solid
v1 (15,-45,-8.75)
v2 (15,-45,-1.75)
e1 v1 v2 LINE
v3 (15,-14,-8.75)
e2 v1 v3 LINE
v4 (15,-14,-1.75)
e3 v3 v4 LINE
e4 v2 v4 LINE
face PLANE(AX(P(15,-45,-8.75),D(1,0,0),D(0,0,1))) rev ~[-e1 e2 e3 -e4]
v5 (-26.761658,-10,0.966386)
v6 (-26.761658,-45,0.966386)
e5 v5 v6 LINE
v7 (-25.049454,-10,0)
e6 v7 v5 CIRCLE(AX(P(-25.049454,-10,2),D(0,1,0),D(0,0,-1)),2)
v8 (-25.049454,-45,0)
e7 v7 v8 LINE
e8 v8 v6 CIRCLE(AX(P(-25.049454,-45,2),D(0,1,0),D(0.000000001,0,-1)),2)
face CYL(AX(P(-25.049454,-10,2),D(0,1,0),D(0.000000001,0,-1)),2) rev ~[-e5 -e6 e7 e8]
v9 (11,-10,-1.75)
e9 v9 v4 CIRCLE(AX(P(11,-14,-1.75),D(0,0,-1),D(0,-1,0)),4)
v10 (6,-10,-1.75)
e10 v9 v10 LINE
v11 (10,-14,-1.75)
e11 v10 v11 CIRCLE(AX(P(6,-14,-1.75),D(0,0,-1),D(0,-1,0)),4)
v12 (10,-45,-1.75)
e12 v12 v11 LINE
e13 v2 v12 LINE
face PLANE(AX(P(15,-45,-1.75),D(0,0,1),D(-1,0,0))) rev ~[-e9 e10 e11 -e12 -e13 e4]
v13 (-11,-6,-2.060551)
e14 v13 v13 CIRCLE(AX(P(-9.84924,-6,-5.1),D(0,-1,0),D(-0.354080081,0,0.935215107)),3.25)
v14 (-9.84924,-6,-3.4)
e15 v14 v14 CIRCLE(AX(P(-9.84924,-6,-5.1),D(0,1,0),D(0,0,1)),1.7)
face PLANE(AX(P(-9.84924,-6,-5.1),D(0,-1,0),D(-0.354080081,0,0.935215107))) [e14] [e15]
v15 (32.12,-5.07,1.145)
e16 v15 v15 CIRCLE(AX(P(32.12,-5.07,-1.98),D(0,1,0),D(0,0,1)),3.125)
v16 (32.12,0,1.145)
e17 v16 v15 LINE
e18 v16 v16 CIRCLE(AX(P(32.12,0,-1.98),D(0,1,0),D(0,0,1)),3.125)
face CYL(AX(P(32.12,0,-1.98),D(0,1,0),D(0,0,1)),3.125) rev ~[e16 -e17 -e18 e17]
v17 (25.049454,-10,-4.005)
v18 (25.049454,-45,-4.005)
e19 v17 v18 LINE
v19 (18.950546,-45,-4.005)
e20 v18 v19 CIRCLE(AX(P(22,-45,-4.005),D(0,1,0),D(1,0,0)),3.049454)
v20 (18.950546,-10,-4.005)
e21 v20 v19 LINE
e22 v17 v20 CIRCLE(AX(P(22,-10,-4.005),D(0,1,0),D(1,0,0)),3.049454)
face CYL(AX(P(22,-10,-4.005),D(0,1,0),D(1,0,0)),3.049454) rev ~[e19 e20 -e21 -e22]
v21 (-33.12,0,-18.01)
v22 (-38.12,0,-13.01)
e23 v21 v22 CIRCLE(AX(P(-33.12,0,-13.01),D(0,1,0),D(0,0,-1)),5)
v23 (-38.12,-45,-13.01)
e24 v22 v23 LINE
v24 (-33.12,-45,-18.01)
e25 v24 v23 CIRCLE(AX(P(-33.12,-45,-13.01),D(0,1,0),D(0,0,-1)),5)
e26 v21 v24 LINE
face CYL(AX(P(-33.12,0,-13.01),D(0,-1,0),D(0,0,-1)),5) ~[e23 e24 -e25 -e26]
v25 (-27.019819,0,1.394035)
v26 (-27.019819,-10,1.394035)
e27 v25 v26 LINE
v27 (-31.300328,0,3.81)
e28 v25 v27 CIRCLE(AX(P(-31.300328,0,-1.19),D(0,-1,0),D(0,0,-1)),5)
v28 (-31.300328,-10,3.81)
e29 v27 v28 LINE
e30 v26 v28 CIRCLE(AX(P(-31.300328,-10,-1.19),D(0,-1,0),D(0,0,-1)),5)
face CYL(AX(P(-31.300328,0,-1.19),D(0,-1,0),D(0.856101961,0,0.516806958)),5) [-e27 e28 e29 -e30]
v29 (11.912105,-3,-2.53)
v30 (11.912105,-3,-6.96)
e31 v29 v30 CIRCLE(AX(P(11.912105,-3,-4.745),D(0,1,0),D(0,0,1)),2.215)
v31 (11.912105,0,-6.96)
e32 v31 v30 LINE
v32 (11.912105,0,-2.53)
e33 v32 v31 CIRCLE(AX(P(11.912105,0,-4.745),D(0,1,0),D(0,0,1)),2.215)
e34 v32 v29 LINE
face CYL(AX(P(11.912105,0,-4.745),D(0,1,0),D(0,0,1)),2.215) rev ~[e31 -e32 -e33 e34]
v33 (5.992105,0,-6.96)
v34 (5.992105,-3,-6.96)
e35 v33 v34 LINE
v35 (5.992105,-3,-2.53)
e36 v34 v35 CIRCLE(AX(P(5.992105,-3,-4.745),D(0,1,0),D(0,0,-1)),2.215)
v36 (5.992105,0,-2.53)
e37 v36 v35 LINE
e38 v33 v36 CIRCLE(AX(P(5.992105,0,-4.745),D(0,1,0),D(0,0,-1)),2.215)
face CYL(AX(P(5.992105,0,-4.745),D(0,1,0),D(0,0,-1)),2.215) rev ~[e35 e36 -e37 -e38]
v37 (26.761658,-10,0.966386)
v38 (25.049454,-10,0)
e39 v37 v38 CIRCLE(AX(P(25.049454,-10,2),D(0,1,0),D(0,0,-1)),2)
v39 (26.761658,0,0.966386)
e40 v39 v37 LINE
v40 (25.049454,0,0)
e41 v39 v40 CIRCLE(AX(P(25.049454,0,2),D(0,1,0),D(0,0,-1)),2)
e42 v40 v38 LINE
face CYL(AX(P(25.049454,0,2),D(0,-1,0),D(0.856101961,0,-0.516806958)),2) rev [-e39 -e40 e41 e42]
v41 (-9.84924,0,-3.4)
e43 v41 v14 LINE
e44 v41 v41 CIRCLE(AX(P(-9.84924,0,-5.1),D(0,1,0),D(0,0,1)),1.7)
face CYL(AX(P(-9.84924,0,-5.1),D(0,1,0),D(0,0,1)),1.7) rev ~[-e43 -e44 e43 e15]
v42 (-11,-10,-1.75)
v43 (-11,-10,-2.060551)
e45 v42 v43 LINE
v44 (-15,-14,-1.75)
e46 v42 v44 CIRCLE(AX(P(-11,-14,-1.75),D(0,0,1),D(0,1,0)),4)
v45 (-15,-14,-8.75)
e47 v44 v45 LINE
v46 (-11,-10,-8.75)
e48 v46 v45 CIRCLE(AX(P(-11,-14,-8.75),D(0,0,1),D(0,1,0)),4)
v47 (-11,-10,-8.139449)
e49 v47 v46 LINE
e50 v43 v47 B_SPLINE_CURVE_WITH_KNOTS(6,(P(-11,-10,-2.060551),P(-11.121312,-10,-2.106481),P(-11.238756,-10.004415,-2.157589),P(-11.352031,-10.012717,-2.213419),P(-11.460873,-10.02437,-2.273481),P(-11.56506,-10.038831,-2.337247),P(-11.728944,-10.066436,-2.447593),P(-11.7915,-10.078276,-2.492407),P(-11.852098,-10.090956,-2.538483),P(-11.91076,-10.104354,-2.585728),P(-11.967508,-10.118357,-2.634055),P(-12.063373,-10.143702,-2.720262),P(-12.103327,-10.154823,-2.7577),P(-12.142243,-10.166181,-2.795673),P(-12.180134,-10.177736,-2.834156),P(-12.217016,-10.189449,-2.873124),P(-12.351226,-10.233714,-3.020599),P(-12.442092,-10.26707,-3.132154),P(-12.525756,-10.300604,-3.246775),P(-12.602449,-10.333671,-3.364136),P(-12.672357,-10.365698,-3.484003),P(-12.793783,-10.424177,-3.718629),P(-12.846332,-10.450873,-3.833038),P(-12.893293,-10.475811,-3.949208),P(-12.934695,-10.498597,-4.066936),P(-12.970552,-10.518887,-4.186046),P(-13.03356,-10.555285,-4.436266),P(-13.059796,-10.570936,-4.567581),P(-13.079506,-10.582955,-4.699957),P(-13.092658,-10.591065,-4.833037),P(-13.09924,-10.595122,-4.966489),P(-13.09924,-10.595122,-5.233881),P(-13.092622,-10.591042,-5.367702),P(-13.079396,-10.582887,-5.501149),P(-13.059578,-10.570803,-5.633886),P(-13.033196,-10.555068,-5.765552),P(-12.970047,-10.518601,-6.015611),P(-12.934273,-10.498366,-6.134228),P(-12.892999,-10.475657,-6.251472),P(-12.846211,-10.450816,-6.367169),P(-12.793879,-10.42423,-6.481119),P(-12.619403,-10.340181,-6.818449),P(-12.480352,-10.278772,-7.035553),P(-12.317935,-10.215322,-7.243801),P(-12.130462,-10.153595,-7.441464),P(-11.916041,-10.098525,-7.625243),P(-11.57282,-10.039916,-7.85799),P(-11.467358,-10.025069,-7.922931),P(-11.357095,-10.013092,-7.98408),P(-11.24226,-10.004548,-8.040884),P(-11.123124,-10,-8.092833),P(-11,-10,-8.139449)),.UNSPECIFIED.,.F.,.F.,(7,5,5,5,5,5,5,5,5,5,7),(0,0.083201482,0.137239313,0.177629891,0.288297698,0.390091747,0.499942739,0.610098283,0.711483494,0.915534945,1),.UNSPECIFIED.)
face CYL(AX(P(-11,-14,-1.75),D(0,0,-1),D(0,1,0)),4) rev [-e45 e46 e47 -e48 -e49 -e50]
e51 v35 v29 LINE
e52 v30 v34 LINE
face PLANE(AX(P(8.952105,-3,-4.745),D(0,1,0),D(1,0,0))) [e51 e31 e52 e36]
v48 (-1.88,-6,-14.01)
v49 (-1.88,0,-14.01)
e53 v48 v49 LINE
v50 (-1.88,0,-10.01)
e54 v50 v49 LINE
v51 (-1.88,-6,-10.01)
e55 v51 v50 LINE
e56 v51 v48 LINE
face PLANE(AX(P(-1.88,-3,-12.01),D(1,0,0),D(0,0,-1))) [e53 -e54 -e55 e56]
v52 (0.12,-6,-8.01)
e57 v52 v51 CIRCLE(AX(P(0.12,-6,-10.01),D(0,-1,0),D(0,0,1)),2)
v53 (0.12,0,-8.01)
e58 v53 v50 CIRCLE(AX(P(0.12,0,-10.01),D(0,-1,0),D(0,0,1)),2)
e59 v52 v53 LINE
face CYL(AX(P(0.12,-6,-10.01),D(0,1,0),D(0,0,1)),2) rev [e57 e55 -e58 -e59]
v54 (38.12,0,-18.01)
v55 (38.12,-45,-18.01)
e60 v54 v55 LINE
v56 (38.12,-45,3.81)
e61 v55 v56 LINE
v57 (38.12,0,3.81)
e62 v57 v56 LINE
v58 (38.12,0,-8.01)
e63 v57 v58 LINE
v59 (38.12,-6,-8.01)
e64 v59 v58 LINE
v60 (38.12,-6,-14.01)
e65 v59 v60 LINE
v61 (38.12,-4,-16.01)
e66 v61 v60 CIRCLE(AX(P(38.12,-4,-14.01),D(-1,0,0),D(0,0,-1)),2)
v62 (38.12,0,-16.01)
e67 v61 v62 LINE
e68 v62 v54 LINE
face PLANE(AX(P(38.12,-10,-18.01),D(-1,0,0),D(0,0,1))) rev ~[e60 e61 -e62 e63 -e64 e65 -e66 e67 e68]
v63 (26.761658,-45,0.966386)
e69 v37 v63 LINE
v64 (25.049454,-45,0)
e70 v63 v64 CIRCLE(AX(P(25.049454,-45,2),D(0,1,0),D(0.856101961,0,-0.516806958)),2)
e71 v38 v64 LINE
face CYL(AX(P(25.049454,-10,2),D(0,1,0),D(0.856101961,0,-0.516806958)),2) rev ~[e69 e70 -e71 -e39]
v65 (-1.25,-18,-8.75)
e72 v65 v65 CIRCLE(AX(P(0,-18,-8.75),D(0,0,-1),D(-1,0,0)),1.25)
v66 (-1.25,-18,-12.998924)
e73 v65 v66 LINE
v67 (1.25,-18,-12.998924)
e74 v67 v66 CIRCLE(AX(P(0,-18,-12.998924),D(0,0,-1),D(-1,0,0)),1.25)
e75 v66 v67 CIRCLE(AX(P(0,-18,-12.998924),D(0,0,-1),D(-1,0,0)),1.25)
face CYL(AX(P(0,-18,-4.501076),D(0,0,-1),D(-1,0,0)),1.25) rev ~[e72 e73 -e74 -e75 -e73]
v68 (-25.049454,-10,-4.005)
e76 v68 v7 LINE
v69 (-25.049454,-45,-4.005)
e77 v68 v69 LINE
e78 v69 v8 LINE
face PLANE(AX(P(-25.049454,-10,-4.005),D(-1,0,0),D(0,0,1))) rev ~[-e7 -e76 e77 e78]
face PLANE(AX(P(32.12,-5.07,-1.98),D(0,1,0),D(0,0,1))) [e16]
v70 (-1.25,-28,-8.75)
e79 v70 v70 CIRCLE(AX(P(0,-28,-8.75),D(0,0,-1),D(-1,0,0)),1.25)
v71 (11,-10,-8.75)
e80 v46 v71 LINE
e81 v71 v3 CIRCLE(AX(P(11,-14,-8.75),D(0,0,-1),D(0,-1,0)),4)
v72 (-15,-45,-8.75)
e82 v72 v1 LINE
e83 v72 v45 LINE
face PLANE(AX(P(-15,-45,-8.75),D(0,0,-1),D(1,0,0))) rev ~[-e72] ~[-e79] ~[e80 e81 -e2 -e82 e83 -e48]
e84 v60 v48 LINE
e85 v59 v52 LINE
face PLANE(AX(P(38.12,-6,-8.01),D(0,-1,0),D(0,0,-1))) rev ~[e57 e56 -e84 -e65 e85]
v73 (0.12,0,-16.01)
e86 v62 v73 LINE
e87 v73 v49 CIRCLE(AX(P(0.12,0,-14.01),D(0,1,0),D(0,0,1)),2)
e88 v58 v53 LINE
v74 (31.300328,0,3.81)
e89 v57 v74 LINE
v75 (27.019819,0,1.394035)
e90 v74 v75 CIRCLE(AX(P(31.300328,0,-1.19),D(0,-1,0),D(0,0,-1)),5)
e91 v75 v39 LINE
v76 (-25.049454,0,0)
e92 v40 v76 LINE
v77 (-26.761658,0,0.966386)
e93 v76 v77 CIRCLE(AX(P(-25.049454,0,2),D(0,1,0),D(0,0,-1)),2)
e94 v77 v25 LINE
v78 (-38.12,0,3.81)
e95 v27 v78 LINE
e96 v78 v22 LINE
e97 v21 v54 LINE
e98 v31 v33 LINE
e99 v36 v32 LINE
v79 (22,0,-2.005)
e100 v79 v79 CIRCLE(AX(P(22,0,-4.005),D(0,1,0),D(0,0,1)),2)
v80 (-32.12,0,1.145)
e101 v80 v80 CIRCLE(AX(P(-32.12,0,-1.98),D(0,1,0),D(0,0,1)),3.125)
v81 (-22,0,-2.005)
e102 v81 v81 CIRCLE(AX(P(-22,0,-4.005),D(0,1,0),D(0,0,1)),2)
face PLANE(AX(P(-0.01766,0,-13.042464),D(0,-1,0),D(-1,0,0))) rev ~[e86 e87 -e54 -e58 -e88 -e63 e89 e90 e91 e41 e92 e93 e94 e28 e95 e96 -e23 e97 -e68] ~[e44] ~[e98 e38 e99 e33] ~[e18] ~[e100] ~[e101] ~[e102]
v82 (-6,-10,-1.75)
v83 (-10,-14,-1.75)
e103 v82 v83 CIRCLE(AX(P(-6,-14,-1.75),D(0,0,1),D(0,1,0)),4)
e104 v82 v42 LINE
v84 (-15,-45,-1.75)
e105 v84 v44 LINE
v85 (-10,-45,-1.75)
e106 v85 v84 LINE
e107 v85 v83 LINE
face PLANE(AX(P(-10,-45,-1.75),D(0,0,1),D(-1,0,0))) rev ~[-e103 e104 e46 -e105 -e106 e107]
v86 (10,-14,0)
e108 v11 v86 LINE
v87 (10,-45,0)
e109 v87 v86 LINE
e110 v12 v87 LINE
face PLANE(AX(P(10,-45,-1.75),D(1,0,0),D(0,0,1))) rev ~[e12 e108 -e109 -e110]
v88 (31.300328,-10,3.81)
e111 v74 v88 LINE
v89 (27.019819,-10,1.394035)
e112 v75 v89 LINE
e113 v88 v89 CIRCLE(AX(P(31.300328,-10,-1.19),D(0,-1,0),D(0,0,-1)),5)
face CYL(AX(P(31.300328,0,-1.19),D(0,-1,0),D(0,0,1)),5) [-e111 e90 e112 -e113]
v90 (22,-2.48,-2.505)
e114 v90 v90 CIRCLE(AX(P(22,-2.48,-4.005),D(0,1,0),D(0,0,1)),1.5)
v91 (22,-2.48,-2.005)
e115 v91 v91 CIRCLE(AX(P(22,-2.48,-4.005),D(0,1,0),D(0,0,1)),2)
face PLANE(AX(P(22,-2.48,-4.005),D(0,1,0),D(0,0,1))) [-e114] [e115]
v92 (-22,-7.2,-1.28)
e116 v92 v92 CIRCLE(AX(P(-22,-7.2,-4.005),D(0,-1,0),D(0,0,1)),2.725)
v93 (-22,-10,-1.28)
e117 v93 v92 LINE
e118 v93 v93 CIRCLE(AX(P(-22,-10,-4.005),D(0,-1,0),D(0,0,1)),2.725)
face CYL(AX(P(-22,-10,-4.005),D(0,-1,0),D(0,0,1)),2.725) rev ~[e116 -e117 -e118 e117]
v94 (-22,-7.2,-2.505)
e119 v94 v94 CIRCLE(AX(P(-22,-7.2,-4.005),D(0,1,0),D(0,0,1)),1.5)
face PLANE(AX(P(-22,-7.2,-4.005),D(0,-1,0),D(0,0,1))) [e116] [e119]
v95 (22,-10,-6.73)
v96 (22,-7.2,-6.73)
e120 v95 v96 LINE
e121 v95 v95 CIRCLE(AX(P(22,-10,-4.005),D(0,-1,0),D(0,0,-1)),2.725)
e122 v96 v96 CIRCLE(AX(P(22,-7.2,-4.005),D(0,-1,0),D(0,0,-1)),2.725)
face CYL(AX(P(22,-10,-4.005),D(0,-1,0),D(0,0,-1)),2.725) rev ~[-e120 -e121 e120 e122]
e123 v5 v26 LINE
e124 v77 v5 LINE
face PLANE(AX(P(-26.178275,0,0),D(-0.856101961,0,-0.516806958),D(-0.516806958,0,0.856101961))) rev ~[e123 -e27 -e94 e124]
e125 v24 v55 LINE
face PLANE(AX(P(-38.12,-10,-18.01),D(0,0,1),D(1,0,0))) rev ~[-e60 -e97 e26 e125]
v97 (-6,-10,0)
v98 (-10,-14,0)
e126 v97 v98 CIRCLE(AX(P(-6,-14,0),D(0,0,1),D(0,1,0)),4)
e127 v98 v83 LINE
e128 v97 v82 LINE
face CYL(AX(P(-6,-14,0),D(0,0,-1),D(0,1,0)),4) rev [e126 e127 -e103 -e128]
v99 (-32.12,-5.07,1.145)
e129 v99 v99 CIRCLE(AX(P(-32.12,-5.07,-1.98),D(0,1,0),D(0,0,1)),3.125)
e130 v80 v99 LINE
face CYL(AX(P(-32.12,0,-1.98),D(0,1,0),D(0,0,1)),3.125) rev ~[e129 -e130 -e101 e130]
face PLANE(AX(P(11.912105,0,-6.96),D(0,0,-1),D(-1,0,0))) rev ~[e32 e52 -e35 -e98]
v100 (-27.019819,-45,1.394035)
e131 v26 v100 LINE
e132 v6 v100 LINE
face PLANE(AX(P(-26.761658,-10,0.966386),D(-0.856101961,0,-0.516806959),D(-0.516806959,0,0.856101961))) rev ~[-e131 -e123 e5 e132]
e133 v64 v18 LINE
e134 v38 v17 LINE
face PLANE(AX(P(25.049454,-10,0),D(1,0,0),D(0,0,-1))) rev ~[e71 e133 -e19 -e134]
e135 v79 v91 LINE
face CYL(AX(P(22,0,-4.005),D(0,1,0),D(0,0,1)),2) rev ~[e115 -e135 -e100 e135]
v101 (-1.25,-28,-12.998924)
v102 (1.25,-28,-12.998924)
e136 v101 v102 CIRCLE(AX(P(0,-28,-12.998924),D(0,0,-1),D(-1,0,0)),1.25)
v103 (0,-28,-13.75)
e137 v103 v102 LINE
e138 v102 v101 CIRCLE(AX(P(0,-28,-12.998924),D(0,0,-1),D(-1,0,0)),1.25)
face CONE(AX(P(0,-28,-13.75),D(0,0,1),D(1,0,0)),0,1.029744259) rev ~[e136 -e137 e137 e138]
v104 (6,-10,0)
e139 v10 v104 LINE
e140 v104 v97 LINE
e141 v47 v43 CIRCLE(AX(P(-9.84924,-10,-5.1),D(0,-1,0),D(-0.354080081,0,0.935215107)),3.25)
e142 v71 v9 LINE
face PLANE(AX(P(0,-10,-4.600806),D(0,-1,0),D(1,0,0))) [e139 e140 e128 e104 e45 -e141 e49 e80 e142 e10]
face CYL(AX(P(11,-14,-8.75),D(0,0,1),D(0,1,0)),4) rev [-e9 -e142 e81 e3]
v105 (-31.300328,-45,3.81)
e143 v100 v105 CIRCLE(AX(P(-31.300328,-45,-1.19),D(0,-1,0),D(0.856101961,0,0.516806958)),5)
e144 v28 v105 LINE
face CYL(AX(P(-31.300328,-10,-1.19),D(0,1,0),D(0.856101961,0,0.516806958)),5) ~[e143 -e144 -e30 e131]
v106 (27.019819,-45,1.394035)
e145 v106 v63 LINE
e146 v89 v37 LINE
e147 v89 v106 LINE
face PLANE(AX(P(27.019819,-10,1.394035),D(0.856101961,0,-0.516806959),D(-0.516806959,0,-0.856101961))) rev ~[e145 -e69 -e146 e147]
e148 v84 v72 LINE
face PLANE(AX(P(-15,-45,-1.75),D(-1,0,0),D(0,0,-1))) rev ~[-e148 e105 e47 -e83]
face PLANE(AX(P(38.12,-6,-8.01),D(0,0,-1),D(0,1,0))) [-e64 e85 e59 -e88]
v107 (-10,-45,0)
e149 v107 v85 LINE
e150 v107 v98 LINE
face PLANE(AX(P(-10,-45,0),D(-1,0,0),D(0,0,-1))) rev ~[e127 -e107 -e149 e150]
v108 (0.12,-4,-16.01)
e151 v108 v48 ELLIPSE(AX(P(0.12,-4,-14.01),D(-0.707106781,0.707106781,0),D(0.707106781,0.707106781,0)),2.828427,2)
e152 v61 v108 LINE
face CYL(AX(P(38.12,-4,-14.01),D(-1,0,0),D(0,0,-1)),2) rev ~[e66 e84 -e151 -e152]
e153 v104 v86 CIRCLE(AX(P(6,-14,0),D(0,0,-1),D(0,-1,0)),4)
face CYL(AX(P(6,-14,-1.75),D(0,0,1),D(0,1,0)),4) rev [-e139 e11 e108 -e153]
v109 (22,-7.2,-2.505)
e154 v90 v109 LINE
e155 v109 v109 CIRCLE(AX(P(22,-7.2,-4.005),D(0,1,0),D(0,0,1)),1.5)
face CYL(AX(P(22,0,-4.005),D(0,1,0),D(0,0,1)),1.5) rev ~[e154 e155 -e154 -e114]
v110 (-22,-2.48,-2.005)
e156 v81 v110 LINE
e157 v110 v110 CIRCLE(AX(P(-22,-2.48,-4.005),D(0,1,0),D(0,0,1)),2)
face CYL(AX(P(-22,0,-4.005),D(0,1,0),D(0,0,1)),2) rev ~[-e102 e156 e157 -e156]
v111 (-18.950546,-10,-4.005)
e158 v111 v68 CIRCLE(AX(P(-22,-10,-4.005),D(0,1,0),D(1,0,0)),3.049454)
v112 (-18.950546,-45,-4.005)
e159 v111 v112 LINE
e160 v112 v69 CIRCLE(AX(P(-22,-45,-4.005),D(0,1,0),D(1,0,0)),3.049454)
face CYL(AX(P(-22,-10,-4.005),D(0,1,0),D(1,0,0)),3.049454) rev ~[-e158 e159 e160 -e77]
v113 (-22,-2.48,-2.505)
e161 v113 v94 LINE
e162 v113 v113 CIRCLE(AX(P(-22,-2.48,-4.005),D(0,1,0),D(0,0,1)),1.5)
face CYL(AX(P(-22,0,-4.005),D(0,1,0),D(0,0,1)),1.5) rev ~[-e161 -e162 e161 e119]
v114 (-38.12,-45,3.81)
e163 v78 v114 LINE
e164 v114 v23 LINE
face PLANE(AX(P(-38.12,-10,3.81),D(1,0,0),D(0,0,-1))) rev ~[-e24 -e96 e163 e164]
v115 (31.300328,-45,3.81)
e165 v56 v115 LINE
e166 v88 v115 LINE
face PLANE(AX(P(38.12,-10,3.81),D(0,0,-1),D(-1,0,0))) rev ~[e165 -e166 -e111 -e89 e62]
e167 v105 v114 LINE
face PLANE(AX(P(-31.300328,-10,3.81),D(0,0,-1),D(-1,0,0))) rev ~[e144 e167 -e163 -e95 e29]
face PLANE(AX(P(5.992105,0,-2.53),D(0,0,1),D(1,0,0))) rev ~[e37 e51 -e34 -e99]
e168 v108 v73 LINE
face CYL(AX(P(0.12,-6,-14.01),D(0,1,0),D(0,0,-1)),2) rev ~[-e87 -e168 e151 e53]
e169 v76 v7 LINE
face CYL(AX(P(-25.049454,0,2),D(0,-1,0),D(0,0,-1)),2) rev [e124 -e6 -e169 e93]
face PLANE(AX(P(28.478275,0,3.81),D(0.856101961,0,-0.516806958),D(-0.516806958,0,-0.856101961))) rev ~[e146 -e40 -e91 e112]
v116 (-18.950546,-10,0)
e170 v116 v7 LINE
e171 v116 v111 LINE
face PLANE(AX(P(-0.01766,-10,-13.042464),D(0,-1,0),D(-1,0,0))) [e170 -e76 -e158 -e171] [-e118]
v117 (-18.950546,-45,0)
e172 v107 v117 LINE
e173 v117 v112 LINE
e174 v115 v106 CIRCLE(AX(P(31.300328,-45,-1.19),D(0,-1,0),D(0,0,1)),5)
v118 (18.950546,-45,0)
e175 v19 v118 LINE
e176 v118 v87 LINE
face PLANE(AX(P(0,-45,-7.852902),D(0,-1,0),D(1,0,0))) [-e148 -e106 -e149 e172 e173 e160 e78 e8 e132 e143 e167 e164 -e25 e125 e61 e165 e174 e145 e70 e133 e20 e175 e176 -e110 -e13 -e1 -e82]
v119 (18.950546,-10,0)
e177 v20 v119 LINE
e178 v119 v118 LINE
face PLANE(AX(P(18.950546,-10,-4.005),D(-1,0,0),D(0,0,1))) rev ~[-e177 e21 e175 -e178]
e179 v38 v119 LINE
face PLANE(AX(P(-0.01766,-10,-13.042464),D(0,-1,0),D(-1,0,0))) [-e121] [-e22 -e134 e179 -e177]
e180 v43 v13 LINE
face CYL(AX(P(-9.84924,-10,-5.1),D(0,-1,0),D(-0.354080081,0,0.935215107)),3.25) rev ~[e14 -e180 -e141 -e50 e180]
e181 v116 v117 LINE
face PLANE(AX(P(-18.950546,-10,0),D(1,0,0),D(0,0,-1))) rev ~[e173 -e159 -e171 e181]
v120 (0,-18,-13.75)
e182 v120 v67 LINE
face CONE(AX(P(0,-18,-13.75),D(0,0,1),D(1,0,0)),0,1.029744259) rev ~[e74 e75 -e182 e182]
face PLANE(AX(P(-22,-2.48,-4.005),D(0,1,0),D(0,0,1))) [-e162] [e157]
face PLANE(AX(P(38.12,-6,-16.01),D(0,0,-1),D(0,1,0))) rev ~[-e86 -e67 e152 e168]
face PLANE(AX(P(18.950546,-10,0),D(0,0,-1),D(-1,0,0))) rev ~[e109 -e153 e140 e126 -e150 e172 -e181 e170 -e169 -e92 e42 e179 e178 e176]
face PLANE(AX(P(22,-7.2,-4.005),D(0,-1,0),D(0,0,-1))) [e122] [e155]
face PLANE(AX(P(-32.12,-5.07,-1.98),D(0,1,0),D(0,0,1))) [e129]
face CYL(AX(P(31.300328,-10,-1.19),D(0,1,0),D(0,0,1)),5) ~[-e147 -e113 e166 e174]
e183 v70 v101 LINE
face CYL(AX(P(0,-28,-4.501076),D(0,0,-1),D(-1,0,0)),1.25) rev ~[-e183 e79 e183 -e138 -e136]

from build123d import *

# Parameters (mm, degrees)
SKETCH1_R                       = 2
SKETCH1_R_2                     = 3.125
SKETCH1_R_3                     = 1.7
BOSS_EXTRUDE1_DEPTH             = 10
FILLET2_R                       = 5
FILLET1_R                       = 2
SKETCH1_4_R                     = 3.125
CUT_EXTRUDE3_DEPTH              = 5.07
SKETCH1_7_R                     = 1.7
CUT_EXTRUDE6_DEPTH              = 10
CUT_EXTRUDE5_DEPTH              = 3
SKETCH1_5_R                     = 2
CUT_EXTRUDE4_DEPTH              = 2.48
SKETCH4_R                       = 1.5
CUT_EXTRUDE7_DEPTH              = 10
SKETCH5_R                       = 2.725
CUT_EXTRUDE8_DEPTH              = 2.8
BOSS_EXTRUDE2_DEPTH             = 10
BOSS_EXTRUDE3_DEPTH             = 35
FILLET13_R                      = 5
SKETCH10_W                      = 8
SKETCH10_H                      = 6
CUT_EXTRUDE12_DEPTH             = 40
FILLET14_R                      = 2
CUT_EXTRUDE17_DEPTH             = 35
TAP_DRILL_FOR_M3X0_5_TAP1_D     = 2.5
TAP_DRILL_FOR_M3X0_5_TAP1_DEPTH = 4.248924226
TAP_DRILL_FOR_M3X0_5_TAP1_TIP   = 0.751075774
SKETCH23_2_R                    = 3.25
BOSS_EXTRUDE7_DEPTH             = 2
FILLET16_R                      = 4
SKETCH23_R                      = 3.25
CUT_EXTRUDE20_DEPTH             = 10
CUT_EXTRUDE20_DEPTH_BACK        = 4


with BuildPart() as part:
    # Sketch1 → Boss-Extrude1 (new body)
    with BuildSketch(Plane(origin=(0, 0, 0), x_dir=(1, 0, 0), z_dir=(0, 1, 0))):
        with BuildLine():
            ThreePointArc((-11.409245094, 8.977987014), (-9.849239736, 9.28), (-8.289234378, 8.977987014))
            ThreePointArc((-8.289234378, 8.977987014), (-5.835653376, 8.254222737), (-3.289234378, 8.01))
            Line((-3.289234378, 8.01), (38.12, 8.01))
            Line((38.12, 8.01), (38.12, -3.81))
            Line((38.12, -3.81), (28.478275237, -3.81))
            Line((28.478275237, -3.81), (26.178275237, 0))
            Line((26.178275237, 0), (-26.178275237, 0))
            Line((-26.178275237, 0), (-28.478275237, -3.81))
            Line((-28.478275237, -3.81), (-38.12, -3.81))
            Line((-38.12, -3.81), (-38.12, 8.01))
            Line((-38.12, 8.01), (-16.409245094, 8.01))
            ThreePointArc((-16.409245094, 8.01), (-13.862826096, 8.254222737), (-11.409245094, 8.977987014))
        make_face()
        with Locations((22, 4.005)):
            Circle(SKETCH1_R, mode=Mode.SUBTRACT)
        with Locations((-22, 4.005)):
            Circle(SKETCH1_R, mode=Mode.SUBTRACT)
        with Locations((-32.12, 1.98)):
            Circle(SKETCH1_R_2, mode=Mode.SUBTRACT)
        with Locations((32.12, 1.98)):
            Circle(SKETCH1_R_2, mode=Mode.SUBTRACT)
        with Locations((-9.849239736, 5.1)):
            Circle(SKETCH1_R_3, mode=Mode.SUBTRACT)
        with BuildLine():
            ThreePointArc((11.912105026, 2.53), (14.127105026, 4.745), (11.912105026, 6.96))
            Line((11.912105026, 6.96), (5.992105026, 6.96))
            ThreePointArc((5.992105026, 6.96), (3.777105026, 4.745), (5.992105026, 2.53))
            Line((5.992105026, 2.53), (11.912105026, 2.53))
        make_face(mode=Mode.SUBTRACT)
        with Locations((-22, 4.005)):
            Circle(SKETCH1_R)
        with Locations((-9.849239736, 5.1)):
            Circle(SKETCH1_R_3)
        with Locations((-32.12, 1.98)):
            Circle(SKETCH1_R_2)
        with BuildLine():
            Line((5.992105026, 2.53), (11.912105026, 2.53))
            ThreePointArc((11.912105026, 2.53), (14.127105026, 4.745), (11.912105026, 6.96))
            Line((11.912105026, 6.96), (5.992105026, 6.96))
            ThreePointArc((5.992105026, 6.96), (3.777105026, 4.745), (5.992105026, 2.53))
        make_face()
        with Locations((22, 4.005)):
            Circle(SKETCH1_R)
        with Locations((32.12, 1.98)):
            Circle(SKETCH1_R_2)
    extrude(amount=-BOSS_EXTRUDE1_DEPTH)

    # Fillet2
    fillet2_edges = [part.edges().sort_by_distance(p)[0] for p in [
        (28.478275237, -5, 3.81),
        (-28.478275237, -5, 3.81),
    ]]
    fillet(fillet2_edges, radius=FILLET2_R)

    # Fillet1
    fillet1_edges = [part.edges().sort_by_distance(p)[0] for p in [
        (26.178275237, -5, 0),
        (-26.178275237, -5, 0),
    ]]
    fillet(fillet1_edges, radius=FILLET1_R)

    # Sketch1_4 → Cut-Extrude3 (cut)
    with BuildSketch(Plane(origin=(0, 0, 0), x_dir=(1, 0, 0), z_dir=(0, 1, 0))):
        with Locations(Location((32.12, 1.98, 0), (0, 0, 270))):
            Circle(SKETCH1_4_R)
        with Locations(Location((-32.12, 1.98, 0), (0, 0, 270))):
            Circle(SKETCH1_4_R)
    extrude(amount=-CUT_EXTRUDE3_DEPTH, mode=Mode.SUBTRACT)

    # Sketch1_7 → Cut-Extrude6 (cut)
    with BuildSketch(Plane(origin=(0, 0, 0), x_dir=(1, 0, 0), z_dir=(0, 1, 0))):
        with Locations(Location((-9.849239736, 5.1, 0), (0, 0, 270))):
            Circle(SKETCH1_7_R)
    extrude(amount=-CUT_EXTRUDE6_DEPTH, mode=Mode.SUBTRACT)

    # Sketch1_6 → Cut-Extrude5 (cut)
    with BuildSketch(Plane(origin=(0, 0, 0), x_dir=(1, 0, 0), z_dir=(0, 1, 0))):
        with BuildLine():
            Line((5.992105026, 2.53), (11.912105026, 2.53))
            ThreePointArc((11.912105026, 2.53), (14.127105026, 4.745), (11.912105026, 6.96))
            Line((11.912105026, 6.96), (5.992105026, 6.96))
            ThreePointArc((5.992105026, 6.96), (3.777105026, 4.745), (5.992105026, 2.53))
        make_face()
    extrude(amount=-CUT_EXTRUDE5_DEPTH, mode=Mode.SUBTRACT)

    # Sketch1_5 → Cut-Extrude4 (cut)
    with BuildSketch(Plane(origin=(0, 0, 0), x_dir=(1, 0, 0), z_dir=(0, 1, 0))):
        with Locations(Location((-22, 4.005, 0), (0, 0, 270))):
            Circle(SKETCH1_5_R)
        with Locations(Location((22, 4.005, 0), (0, 0, 270))):
            Circle(SKETCH1_5_R)
    extrude(amount=-CUT_EXTRUDE4_DEPTH, mode=Mode.SUBTRACT)

    # Sketch4 → Cut-Extrude7 (cut)
    with BuildSketch(Plane(origin=(0, 0, 0), x_dir=(1, 0, 0), z_dir=(0, 1, 0))):
        with Locations(Location((-22, 4.005, 0), (0, 0, 270))):
            Circle(SKETCH4_R)
        with Locations(Location((22, 4.005, 0), (0, 0, 270))):
            Circle(SKETCH4_R)
    extrude(amount=-CUT_EXTRUDE7_DEPTH, mode=Mode.SUBTRACT)

    # Sketch5 → Cut-Extrude8 (cut)
    with BuildSketch(Plane.XZ.offset(10)):
        with Locations(Location((22, -4.005, 0), (0, 0, 270))):
            Circle(SKETCH5_R)
        with Locations(Location((-22, -4.005, 0), (0, 0, 90))):
            Circle(SKETCH5_R)
    extrude(amount=-CUT_EXTRUDE8_DEPTH, mode=Mode.SUBTRACT)

    # Sketch6 → Boss-Extrude2 (add)
    with BuildSketch(Plane(origin=(0, 0, 0), x_dir=(1, 0, 0), z_dir=(0, 1, 0))):
        with BuildLine():
            Line((-38.12, 8.01), (-38.12, 18.01))
            Line((-38.12, 18.01), (38.12, 18.01))
            Line((38.12, 18.01), (38.12, 8.01))
            Line((38.12, 8.01), (-3.289234378, 8.01))
            ThreePointArc((-3.289234378, 8.01), (-5.835653376, 8.254222737), (-8.289234378, 8.977987014))
            ThreePointArc((-8.289234378, 8.977987014), (-9.849239736, 9.28), (-11.409245094, 8.977987014))
            ThreePointArc((-11.409245094, 8.977987014), (-13.862826096, 8.254222737), (-16.409245094, 8.01))
            Line((-16.409245094, 8.01), (-38.12, 8.01))
        make_face()
    extrude(amount=-BOSS_EXTRUDE2_DEPTH)

    # Sketch8 → Boss-Extrude3 (add)
    with BuildSketch(Plane.XZ.offset(10)):
        with BuildLine():
            Line((18.950546011, 0), (-18.950546011, 0))
            Line((-18.950546011, 0), (-18.950546011, -4.005))
            ThreePointArc((-18.950546011, -4.005), (-22, -7.054453989), (-25.049453989, -4.005))
            Line((-25.049453989, -4.005), (-25.049453989, 0))
            ThreePointArc((-25.049453989, 0), (-26.032503369, 0.25827272), (-26.761657912, 0.966386084))
            Line((-26.761657912, 0.966386084), (-27.019818549, 1.394034791))
            ThreePointArc((-27.019818549, 1.394034791), (-28.842704905, 3.164318199), (-31.300328355, 3.81))
            Line((-31.300328355, 3.81), (-38.12, 3.81))
            Line((-38.12, 3.81), (-38.12, -18.01))
            Line((-38.12, -18.01), (38.12, -18.01))
            Line((38.12, -18.01), (38.12, 3.81))
            Line((38.12, 3.81), (31.300328355, 3.81))
            ThreePointArc((31.300328355, 3.81), (28.842704905, 3.164318199), (27.019818549, 1.394034791))
            Line((27.019818549, 1.394034791), (26.761657912, 0.966386084))
            ThreePointArc((26.761657912, 0.966386084), (26.032503369, 0.25827272), (25.049453989, 0))
            Line((25.049453989, 0), (25.049453989, -4.005))
            ThreePointArc((25.049453989, -4.005), (22, -7.054453989), (18.950546011, -4.005))
            Line((18.950546011, -4.005), (18.950546011, 0))
        make_face()
    extrude(amount=BOSS_EXTRUDE3_DEPTH)

    # Fillet13
    fillet13_edges = [part.edges().sort_by_distance(p)[0] for p in [
        (-38.12, -22.5, -18.01),
    ]]
    fillet(fillet13_edges, radius=FILLET13_R)

    # Sketch10 → Cut-Extrude12 (cut)
    with BuildSketch(Plane(origin=(38.12, 0, 0), x_dir=(0, 0, -1), z_dir=(1, 0, 0))):
        with Locations((12.01, -3)):
            Rectangle(SKETCH10_W, SKETCH10_H)
    extrude(amount=-CUT_EXTRUDE12_DEPTH, mode=Mode.SUBTRACT)

    # Fillet14
    fillet14_edges = [part.edges().sort_by_distance(p)[0] for p in [
        (-1.88, -3, -16.01),
        (18.12, -6, -16.01),
        (-1.88, -3, -8.01),
    ]]
    fillet(fillet14_edges, radius=FILLET14_R)

    # Sketch18 → Cut-Extrude17 (cut)
    with BuildSketch(Plane.XZ.offset(45)):
        Polygon((-10, 0), (-10, -1.75), (-15, -1.75), (-15, -8.75), (15, -8.75), (15, -1.75), (10, -1.75), (10, 0), align=None)
    extrude(amount=-CUT_EXTRUDE17_DEPTH, mode=Mode.SUBTRACT)

    # Tap Drill for M3x0.5 Tap1
    with Locations(Plane.XY.offset(-8.75)):
        with Locations((0, -28), (0, -18)):
            Hole(TAP_DRILL_FOR_M3X0_5_TAP1_D / 2, depth=TAP_DRILL_FOR_M3X0_5_TAP1_DEPTH)
            with Locations((0, 0, -(TAP_DRILL_FOR_M3X0_5_TAP1_DEPTH + TAP_DRILL_FOR_M3X0_5_TAP1_TIP / 2))):  # 118° drill point
                Cone(0, TAP_DRILL_FOR_M3X0_5_TAP1_D / 2, TAP_DRILL_FOR_M3X0_5_TAP1_TIP, mode=Mode.SUBTRACT)

    # Sketch23_2 → Boss-Extrude7 (add)
    with BuildSketch(Plane.XZ.offset(10)):
        with Locations((-9.849239736, -5.1)):
            Circle(SKETCH23_2_R)
    extrude(amount=-BOSS_EXTRUDE7_DEPTH)

    # Fillet16
    fillet16_edges = [part.edges().sort_by_distance(p)[0] for p in [
        (-10, -10, -0.875),
        (-15, -10, -5.25),
        (15, -10, -5.25),
        (10, -10, -0.875),
    ]]
    fillet(fillet16_edges, radius=FILLET16_R)

    # Sketch23 → Cut-Extrude20 (cut, two sides)
    with BuildSketch(Plane.XZ.offset(10)) as cut_extrude20_sk:
        with Locations(Location((-9.849239736, -5.1, 0), (0, 0, 110.737075226))):
            Circle(SKETCH23_R)
    extrude(amount=CUT_EXTRUDE20_DEPTH, mode=Mode.SUBTRACT)
    extrude(cut_extrude20_sk.sketch, amount=-CUT_EXTRUDE20_DEPTH_BACK, mode=Mode.SUBTRACT)


solid = part.part
